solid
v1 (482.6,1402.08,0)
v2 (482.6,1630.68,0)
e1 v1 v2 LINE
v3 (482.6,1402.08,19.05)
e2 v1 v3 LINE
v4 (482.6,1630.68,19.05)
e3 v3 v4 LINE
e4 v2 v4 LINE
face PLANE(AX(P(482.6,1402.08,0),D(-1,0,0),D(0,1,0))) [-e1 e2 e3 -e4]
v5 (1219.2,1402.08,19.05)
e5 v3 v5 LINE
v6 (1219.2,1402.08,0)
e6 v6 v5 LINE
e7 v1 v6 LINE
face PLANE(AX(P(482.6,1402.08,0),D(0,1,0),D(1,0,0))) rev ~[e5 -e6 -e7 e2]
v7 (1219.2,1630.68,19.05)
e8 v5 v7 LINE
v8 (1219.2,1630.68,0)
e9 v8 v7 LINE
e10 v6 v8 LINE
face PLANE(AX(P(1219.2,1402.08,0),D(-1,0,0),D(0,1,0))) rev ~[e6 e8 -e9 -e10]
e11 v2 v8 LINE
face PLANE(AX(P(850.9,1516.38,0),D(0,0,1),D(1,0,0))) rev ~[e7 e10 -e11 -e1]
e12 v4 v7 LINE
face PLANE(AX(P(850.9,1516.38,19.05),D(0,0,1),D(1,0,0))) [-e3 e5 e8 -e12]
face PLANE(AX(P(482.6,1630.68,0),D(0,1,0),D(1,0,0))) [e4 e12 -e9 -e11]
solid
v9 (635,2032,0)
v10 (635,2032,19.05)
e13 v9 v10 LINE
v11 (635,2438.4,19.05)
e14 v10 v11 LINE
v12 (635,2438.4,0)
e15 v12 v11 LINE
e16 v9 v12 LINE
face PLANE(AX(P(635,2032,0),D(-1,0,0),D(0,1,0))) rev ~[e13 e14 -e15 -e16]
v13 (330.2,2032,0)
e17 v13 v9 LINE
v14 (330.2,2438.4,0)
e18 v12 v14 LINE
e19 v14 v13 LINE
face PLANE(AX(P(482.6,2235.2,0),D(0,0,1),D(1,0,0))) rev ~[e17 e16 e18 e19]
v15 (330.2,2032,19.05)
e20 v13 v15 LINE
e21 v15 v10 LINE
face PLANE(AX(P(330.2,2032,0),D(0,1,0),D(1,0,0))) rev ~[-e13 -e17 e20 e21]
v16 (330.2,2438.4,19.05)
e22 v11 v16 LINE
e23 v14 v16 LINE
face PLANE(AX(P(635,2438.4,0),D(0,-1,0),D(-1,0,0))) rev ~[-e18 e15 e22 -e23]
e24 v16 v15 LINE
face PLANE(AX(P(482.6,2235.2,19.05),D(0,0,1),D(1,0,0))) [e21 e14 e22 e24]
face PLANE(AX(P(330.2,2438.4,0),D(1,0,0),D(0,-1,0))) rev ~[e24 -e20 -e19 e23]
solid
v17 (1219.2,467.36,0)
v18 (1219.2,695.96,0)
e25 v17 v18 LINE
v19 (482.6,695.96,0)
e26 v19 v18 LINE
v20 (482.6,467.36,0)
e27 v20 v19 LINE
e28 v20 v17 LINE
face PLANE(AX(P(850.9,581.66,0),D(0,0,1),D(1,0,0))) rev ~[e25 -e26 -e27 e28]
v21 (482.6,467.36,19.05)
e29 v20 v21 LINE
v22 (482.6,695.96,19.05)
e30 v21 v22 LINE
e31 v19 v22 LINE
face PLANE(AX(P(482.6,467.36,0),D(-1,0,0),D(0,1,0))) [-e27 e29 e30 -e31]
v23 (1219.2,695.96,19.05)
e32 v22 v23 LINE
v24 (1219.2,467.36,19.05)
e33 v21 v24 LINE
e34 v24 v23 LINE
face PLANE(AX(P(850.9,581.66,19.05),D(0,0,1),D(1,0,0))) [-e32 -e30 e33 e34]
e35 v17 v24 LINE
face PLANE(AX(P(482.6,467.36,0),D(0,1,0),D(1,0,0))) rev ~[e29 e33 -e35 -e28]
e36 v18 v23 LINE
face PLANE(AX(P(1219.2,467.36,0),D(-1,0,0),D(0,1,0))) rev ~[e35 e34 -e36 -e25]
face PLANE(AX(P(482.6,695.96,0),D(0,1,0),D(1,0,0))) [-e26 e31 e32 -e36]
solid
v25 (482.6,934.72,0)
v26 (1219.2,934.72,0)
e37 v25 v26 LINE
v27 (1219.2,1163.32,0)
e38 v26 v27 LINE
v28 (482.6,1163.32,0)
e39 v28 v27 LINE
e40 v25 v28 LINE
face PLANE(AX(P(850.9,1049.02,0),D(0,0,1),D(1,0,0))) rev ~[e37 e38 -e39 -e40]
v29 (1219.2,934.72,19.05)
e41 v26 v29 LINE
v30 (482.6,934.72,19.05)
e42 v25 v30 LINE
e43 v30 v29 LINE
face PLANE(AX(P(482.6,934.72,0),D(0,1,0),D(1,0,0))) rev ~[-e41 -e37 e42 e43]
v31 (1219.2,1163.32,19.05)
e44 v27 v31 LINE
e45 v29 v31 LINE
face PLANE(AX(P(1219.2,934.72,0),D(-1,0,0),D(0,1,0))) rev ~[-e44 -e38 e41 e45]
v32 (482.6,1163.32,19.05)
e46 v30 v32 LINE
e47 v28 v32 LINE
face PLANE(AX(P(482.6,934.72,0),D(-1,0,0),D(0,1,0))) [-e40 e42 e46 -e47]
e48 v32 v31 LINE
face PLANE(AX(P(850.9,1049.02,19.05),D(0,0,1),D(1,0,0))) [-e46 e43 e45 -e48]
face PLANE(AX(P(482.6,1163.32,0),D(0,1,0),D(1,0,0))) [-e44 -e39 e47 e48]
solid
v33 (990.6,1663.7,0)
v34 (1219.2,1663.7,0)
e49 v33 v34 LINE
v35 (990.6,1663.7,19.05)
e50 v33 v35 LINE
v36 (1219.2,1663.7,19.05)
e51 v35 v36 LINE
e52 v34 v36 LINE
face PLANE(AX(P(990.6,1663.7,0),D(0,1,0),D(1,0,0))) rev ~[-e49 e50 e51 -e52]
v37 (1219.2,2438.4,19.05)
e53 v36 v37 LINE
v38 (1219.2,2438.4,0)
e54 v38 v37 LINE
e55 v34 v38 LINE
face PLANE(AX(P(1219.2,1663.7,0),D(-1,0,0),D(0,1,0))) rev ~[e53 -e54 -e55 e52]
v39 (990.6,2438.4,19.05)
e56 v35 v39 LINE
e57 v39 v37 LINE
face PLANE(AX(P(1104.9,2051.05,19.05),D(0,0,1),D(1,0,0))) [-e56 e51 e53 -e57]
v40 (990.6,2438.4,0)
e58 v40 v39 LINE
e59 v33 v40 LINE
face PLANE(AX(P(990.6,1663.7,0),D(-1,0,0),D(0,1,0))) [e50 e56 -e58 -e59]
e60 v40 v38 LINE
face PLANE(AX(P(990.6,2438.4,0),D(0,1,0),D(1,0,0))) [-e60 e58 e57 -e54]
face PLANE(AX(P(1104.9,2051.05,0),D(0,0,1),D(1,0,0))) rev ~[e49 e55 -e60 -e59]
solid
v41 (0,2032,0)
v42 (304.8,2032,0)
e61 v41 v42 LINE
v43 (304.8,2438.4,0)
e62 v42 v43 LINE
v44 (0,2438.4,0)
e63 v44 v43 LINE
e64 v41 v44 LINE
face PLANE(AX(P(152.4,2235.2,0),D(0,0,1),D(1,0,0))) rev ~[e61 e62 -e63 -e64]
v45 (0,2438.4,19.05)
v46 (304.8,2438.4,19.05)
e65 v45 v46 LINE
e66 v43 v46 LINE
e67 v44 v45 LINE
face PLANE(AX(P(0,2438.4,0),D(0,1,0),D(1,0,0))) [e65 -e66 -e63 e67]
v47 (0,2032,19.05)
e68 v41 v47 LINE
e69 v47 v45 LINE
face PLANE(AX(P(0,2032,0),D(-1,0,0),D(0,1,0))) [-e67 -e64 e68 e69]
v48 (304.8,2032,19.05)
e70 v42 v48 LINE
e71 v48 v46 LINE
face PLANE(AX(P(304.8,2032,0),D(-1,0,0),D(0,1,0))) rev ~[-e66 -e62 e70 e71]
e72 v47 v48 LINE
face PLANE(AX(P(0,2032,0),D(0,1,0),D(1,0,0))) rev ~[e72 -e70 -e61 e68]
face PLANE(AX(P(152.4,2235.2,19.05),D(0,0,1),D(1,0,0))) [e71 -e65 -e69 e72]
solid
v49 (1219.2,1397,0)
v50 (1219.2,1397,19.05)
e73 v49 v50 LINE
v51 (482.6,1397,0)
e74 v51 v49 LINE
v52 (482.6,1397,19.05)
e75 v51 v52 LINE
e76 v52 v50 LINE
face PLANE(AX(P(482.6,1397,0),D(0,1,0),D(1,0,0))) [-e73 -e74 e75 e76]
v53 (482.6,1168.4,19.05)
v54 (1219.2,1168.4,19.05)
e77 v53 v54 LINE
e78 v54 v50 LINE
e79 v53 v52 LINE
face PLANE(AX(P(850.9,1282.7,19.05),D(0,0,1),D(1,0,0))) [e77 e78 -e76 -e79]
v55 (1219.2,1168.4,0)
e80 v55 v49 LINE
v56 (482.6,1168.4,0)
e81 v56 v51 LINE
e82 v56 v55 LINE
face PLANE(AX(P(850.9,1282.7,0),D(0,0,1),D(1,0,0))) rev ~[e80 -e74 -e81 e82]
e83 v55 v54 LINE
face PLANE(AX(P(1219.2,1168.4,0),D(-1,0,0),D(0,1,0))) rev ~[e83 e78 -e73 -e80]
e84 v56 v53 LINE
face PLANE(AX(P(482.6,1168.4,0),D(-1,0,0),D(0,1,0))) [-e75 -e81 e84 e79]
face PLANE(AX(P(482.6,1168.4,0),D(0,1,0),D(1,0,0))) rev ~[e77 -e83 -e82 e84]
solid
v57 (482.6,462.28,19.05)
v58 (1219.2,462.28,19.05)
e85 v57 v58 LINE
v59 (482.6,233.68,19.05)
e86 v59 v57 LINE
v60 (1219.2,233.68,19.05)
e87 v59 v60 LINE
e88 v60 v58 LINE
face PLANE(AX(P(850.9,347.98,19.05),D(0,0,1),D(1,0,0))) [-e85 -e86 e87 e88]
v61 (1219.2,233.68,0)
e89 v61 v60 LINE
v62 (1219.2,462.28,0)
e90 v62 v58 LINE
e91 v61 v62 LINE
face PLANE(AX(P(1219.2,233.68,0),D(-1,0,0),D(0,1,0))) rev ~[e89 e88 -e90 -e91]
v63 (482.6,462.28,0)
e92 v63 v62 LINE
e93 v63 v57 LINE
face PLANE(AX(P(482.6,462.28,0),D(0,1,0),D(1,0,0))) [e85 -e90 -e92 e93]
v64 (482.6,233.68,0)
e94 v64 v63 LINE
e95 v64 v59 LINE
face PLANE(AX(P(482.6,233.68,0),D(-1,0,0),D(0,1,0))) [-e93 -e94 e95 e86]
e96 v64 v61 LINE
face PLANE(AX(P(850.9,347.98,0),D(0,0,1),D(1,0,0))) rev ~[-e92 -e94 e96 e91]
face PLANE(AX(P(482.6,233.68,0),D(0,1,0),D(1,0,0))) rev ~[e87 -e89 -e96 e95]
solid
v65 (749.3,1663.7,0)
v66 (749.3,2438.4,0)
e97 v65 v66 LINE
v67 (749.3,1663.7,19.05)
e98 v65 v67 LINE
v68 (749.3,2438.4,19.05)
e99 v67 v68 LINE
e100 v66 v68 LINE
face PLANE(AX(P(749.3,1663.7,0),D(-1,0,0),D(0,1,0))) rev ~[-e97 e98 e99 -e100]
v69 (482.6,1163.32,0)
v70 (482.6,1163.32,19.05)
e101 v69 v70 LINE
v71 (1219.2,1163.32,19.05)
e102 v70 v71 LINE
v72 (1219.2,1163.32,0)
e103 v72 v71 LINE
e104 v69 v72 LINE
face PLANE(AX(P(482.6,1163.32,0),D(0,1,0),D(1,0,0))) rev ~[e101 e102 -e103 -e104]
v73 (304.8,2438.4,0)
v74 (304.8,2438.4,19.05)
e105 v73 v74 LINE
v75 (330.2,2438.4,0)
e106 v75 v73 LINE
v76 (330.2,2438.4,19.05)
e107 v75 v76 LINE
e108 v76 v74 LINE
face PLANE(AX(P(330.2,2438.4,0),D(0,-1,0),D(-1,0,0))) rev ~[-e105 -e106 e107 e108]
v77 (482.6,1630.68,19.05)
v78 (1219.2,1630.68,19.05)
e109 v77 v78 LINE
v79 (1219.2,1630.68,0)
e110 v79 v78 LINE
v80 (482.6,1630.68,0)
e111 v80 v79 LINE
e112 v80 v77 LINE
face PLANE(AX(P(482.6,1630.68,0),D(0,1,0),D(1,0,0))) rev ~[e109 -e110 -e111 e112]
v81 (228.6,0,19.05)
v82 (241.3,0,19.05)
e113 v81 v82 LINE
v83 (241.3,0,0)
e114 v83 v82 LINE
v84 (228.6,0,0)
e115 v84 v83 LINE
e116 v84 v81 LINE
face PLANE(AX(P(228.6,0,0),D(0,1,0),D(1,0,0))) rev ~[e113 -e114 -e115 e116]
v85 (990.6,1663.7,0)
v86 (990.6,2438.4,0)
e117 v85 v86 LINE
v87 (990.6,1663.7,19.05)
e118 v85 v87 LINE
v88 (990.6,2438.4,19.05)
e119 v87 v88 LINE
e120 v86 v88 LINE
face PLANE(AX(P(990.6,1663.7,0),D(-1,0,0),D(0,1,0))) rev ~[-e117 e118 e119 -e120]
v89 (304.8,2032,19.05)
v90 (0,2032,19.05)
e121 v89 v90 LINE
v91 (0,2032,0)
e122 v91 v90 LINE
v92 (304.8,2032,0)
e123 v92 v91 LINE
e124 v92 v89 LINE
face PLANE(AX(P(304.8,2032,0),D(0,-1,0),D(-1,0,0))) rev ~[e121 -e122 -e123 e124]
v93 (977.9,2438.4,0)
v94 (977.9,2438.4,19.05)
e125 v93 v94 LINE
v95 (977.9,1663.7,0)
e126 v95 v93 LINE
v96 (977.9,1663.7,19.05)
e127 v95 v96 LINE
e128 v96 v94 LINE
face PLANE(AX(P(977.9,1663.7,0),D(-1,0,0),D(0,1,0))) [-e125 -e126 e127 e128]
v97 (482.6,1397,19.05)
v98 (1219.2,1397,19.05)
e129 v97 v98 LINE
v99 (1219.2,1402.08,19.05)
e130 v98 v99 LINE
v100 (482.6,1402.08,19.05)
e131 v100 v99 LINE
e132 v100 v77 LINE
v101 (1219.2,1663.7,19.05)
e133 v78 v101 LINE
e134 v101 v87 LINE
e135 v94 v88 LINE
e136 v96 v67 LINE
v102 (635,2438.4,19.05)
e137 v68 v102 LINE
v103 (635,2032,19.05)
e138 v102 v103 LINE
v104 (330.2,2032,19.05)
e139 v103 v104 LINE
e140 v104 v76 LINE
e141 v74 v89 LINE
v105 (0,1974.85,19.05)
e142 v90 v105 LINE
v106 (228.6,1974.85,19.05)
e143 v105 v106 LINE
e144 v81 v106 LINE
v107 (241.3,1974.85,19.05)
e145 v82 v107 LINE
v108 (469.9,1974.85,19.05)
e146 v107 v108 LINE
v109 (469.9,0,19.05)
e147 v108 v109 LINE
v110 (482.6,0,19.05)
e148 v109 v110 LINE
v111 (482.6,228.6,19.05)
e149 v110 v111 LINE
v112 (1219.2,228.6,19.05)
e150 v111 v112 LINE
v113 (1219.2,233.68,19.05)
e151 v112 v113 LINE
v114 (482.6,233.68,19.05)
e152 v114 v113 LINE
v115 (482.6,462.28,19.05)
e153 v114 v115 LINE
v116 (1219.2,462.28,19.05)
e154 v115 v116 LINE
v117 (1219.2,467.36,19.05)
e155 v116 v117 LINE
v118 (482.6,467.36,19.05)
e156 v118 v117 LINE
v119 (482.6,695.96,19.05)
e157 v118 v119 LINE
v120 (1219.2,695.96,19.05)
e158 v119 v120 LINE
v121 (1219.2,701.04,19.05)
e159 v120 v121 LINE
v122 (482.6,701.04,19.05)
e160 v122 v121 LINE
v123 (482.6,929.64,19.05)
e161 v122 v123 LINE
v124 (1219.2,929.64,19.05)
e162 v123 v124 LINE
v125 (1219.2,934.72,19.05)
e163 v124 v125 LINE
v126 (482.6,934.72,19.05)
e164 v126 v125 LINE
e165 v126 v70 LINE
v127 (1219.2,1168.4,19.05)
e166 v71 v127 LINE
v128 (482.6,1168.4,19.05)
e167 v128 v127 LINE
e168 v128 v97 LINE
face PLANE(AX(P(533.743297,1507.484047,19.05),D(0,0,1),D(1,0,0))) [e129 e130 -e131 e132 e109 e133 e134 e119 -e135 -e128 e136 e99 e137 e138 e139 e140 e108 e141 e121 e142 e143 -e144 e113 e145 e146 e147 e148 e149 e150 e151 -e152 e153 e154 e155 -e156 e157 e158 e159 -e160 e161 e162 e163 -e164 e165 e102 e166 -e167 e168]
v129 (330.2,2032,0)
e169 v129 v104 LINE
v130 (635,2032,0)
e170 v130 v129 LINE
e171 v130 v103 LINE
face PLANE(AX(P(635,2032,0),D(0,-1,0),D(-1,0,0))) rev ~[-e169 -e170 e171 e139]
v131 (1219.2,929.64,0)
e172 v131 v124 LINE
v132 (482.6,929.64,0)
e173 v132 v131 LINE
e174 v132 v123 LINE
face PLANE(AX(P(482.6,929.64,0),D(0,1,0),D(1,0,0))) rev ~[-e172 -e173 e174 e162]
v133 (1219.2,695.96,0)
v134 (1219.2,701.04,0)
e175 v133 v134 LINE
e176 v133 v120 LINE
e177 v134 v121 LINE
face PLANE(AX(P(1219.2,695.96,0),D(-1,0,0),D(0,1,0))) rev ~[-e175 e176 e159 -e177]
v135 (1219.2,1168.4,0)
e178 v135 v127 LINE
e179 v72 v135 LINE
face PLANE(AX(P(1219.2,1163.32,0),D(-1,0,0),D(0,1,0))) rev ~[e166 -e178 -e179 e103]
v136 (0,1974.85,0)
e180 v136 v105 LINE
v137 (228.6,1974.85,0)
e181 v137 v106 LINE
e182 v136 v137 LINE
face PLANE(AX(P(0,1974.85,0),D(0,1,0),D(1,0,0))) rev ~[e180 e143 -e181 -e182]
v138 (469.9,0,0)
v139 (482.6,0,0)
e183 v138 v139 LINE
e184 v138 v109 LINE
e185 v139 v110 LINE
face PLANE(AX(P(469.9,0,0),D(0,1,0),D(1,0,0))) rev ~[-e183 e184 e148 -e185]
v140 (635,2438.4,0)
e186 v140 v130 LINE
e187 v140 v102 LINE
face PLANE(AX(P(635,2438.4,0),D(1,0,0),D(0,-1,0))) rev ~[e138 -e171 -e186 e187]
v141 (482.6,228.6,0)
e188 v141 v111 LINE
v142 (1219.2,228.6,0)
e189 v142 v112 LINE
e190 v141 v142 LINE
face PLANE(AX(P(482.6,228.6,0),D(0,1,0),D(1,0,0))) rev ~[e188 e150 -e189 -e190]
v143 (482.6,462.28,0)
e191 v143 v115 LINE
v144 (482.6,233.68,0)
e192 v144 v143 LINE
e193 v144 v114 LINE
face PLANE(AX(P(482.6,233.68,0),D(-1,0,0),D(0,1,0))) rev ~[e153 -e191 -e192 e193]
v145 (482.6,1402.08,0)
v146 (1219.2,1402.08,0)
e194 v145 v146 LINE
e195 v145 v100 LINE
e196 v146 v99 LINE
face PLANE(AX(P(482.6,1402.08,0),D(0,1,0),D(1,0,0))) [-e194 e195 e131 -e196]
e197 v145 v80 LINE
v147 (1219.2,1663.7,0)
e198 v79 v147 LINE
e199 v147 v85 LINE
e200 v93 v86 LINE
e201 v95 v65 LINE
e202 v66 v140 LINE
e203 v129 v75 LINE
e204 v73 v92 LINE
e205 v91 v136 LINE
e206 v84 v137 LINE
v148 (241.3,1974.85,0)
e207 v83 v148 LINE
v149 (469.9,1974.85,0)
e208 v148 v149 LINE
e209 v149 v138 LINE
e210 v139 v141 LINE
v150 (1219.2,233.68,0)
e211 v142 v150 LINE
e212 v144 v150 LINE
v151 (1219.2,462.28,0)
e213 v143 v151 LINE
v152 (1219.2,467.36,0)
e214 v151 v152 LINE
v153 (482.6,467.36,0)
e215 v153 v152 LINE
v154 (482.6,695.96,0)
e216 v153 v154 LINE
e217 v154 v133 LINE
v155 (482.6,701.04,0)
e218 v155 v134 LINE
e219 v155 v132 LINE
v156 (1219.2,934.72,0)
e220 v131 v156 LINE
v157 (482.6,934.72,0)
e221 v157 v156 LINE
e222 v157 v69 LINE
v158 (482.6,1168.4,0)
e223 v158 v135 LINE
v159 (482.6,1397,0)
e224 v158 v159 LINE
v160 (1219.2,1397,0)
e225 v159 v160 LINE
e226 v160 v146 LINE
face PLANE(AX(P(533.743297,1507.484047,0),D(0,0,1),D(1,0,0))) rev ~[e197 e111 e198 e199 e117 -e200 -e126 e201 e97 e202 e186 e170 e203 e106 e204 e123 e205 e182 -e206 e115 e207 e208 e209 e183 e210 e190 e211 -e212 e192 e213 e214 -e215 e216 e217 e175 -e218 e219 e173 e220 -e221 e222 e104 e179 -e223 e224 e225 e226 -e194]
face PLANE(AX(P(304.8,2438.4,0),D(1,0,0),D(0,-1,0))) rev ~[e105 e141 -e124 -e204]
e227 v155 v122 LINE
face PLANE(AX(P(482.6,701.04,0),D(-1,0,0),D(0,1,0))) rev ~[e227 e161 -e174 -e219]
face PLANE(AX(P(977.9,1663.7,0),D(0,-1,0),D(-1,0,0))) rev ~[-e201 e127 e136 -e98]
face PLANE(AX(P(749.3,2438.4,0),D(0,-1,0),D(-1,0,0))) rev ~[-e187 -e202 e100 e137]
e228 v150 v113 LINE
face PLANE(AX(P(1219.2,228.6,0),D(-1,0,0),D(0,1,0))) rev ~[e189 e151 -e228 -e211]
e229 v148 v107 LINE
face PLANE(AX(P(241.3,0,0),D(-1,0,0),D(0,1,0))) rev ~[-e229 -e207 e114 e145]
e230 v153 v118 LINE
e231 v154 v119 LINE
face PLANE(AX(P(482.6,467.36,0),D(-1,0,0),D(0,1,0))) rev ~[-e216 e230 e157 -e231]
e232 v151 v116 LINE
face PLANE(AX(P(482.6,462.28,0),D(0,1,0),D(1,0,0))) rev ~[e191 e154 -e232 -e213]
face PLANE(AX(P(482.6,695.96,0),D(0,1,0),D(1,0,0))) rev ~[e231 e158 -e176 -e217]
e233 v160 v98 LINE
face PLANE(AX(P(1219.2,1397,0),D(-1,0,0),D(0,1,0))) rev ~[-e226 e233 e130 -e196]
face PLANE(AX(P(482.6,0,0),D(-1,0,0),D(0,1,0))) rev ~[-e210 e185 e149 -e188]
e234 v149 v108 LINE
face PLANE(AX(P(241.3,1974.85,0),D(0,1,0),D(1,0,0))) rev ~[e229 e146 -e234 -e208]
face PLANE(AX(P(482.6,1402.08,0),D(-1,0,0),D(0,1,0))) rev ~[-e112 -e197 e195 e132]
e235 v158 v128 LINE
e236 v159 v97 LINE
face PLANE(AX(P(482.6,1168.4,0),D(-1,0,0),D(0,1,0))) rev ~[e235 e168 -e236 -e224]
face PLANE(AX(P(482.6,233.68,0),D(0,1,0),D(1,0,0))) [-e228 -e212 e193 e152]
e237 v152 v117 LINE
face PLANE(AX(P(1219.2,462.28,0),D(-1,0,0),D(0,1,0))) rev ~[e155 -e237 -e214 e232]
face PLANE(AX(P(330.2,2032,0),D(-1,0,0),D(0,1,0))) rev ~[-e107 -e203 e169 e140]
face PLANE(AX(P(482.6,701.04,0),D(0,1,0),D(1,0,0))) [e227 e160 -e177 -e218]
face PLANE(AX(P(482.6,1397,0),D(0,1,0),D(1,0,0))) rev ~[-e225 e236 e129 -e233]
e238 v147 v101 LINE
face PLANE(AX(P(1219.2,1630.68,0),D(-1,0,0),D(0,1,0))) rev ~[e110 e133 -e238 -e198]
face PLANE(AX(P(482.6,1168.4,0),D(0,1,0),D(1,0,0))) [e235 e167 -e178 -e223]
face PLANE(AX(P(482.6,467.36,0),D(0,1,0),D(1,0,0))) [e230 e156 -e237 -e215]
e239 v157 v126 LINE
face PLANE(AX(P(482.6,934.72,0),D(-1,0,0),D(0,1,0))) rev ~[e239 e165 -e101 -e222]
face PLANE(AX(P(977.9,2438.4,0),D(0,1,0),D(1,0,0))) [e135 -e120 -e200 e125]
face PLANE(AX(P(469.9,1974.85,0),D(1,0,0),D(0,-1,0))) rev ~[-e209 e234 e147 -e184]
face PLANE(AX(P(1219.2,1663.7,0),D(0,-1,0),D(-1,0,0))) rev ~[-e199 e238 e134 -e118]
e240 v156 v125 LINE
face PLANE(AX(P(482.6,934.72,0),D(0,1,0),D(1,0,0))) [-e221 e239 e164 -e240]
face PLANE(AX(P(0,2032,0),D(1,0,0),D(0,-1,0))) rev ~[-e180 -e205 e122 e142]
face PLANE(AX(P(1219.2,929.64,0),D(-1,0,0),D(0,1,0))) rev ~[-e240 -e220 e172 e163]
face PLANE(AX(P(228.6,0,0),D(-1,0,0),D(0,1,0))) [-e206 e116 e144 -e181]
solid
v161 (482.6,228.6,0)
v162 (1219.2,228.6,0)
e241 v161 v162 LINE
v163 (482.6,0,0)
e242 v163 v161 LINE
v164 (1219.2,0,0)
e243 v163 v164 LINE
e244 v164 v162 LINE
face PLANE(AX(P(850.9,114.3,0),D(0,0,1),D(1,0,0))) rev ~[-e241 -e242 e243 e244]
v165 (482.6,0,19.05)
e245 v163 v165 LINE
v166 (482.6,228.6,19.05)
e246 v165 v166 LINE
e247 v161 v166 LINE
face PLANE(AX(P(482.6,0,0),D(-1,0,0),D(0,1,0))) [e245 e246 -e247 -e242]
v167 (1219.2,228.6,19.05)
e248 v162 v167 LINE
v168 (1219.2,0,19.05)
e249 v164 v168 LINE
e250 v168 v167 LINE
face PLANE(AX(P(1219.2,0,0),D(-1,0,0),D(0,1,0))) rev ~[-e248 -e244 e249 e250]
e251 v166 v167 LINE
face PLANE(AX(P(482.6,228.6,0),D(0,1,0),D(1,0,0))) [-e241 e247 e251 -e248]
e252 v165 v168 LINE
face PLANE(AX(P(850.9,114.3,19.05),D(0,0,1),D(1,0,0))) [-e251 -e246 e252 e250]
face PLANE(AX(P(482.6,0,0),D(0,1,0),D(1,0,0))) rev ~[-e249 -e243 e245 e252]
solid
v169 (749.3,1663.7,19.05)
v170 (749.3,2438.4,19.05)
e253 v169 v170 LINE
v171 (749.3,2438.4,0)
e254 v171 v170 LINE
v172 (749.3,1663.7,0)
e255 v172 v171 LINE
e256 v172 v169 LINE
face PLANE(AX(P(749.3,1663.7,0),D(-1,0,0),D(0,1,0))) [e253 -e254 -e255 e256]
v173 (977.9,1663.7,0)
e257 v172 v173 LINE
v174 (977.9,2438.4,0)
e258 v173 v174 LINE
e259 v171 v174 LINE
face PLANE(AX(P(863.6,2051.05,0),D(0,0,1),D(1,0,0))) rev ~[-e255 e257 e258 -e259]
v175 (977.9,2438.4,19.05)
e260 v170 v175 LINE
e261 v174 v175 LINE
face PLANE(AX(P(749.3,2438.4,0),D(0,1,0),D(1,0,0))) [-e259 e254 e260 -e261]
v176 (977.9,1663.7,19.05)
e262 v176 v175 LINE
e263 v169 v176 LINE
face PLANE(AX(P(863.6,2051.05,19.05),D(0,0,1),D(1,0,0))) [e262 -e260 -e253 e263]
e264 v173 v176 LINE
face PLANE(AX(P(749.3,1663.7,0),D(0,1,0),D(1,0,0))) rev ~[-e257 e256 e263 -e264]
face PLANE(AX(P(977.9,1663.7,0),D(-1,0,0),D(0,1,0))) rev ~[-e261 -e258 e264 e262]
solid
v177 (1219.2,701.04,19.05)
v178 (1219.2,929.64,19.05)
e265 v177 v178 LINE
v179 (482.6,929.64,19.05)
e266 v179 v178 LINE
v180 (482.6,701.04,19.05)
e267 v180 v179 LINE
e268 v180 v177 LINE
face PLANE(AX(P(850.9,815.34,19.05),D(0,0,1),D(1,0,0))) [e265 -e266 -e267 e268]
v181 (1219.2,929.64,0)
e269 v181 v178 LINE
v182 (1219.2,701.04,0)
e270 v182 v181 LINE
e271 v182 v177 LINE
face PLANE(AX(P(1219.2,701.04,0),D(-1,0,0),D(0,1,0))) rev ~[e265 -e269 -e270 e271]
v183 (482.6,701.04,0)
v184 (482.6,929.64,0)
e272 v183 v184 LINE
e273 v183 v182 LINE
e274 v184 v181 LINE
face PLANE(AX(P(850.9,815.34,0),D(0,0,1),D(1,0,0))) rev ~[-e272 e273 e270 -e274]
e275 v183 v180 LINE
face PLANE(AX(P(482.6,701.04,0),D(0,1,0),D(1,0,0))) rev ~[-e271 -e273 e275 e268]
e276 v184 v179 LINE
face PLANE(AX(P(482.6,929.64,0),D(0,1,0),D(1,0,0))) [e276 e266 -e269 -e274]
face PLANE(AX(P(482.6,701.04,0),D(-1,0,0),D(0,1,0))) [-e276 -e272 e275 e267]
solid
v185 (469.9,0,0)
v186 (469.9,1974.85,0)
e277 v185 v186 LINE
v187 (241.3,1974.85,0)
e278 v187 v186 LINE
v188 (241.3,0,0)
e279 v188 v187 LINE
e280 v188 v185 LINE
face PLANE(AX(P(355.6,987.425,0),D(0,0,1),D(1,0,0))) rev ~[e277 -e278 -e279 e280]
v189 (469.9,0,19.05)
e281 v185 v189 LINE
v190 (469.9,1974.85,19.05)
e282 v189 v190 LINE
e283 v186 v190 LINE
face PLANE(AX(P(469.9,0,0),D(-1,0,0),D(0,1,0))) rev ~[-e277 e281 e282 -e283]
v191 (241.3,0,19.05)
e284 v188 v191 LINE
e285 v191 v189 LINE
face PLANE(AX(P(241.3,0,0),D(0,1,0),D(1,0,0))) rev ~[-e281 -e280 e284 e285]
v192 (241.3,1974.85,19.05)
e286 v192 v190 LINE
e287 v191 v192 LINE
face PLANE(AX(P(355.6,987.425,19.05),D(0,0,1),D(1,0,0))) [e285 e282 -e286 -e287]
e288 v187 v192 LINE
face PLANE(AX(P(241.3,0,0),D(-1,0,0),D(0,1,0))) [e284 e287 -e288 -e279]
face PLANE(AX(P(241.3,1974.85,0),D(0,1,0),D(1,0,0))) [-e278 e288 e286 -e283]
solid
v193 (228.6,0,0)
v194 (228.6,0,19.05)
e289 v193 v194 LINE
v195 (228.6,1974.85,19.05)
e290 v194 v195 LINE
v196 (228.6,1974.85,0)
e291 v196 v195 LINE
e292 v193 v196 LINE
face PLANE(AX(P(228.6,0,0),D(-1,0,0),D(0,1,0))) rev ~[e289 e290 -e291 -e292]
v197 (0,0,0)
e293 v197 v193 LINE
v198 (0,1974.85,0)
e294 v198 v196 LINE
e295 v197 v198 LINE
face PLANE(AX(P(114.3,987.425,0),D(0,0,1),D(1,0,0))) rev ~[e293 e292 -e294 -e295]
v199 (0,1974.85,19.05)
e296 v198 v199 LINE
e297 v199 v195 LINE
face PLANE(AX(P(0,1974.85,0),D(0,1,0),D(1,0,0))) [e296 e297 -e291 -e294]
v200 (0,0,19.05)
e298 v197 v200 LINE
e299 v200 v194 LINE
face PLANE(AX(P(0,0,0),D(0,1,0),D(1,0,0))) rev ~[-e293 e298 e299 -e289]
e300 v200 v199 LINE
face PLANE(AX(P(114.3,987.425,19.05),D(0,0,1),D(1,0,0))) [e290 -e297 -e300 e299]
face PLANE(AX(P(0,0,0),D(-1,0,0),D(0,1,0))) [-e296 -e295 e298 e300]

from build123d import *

# Parameters (mm, degrees)
F0_W     = 12.7
F0_H     = 1974.85
F0_H_2   = 774.7
F0_W_2   = 736.6
F0_H_3   = 5.08
F1_DEPTH = 19.05
F0_W_3   = 228.6
F2_DEPTH = 19.05
F0_H_4   = 228.6
F0_W_4   = 304.8
F0_H_5   = 406.4


with BuildPart() as f1:
    # F0 (on Top) → F1 (new body)
    with BuildSketch(Plane.XY):
        Polygon((0, 2032), (0, 1974.85), (228.6, 1974.85), (241.3, 1974.85), (469.9, 1974.85), (469.9, 0), (482.6, 0), (482.6, 228.6), (482.6, 233.68), (482.6, 462.28), (482.6, 467.36), (482.6, 695.96), (482.6, 701.04), (482.6, 929.64), (482.6, 934.72), (482.6, 1163.32), (482.6, 1168.4), (482.6, 1397), (482.6, 1402.08), (482.6, 1630.68), (1219.2, 1630.68), (1219.2, 1663.7), (990.6, 1663.7), (977.9, 1663.7), (749.3, 1663.7), (749.3, 2438.4), (679.45, 2438.4), (635, 2438.4), (635, 2032), (330.2, 2032), (330.2, 2438.4), (304.8, 2438.4), (304.8, 2032), align=None)
        with Locations((234.95, 987.425)):
            Rectangle(F0_W, F0_H)
        with Locations((984.25, 2051.05)):
            Rectangle(F0_W, F0_H_2)
        with Locations((850.9, 1399.54)):
            Rectangle(F0_W_2, F0_H_3)
        with Locations((850.9, 1165.86)):
            Rectangle(F0_W_2, F0_H_3)
        with Locations((850.9, 932.18)):
            Rectangle(F0_W_2, F0_H_3)
        with Locations((850.9, 698.5)):
            Rectangle(F0_W_2, F0_H_3)
        with Locations((850.9, 464.82)):
            Rectangle(F0_W_2, F0_H_3)
        with Locations((850.9, 231.14)):
            Rectangle(F0_W_2, F0_H_3)
    extrude(amount=F1_DEPTH)


with BuildPart() as f2:
    # F0 (on Top) → F2 (new body)
    with BuildSketch(Plane.XY):
        with Locations((114.3, 987.425)):
            Rectangle(F0_W_3, F0_H)
    extrude(amount=F2_DEPTH)


with BuildPart() as f2b:
    # F0 (on Top) → F2, piece 2 (new body)
    with BuildSketch(Plane.XY):
        with Locations((355.6, 987.425)):
            Rectangle(F0_W_3, F0_H)
    extrude(amount=F2_DEPTH)


with BuildPart() as f2c:
    # F0 (on Top) → F2, piece 3 (new body)
    with BuildSketch(Plane.XY):
        with Locations((850.9, 1516.38)):
            Rectangle(F0_W_2, F0_H_4)
    extrude(amount=F2_DEPTH)


with BuildPart() as f2d:
    # F0 (on Top) → F2, piece 4 (new body)
    with BuildSketch(Plane.XY):
        with Locations((850.9, 1282.7)):
            Rectangle(F0_W_2, F0_H_4)
    extrude(amount=F2_DEPTH)


with BuildPart() as f2e:
    # F0 (on Top) → F2, piece 5 (new body)
    with BuildSketch(Plane.XY):
        with Locations((850.9, 1049.02)):
            Rectangle(F0_W_2, F0_H_4)
    extrude(amount=F2_DEPTH)


with BuildPart() as f2f:
    # F0 (on Top) → F2, piece 6 (new body)
    with BuildSketch(Plane.XY):
        with Locations((850.9, 815.34)):
            Rectangle(F0_W_2, F0_H_4)
    extrude(amount=F2_DEPTH)


with BuildPart() as f2g:
    # F0 (on Top) → F2, piece 7 (new body)
    with BuildSketch(Plane.XY):
        with Locations((850.9, 581.66)):
            Rectangle(F0_W_2, F0_H_4)
    extrude(amount=F2_DEPTH)


with BuildPart() as f2h:
    # F0 (on Top) → F2, piece 8 (new body)
    with BuildSketch(Plane.XY):
        with Locations((850.9, 347.98)):
            Rectangle(F0_W_2, F0_H_4)
    extrude(amount=F2_DEPTH)


with BuildPart() as f2i:
    # F0 (on Top) → F2, piece 9 (new body)
    with BuildSketch(Plane.XY):
        with Locations((850.9, 114.3)):
            Rectangle(F0_W_2, F0_H_4)
    extrude(amount=F2_DEPTH)


with BuildPart() as f2j:
    # F0 (on Top) → F2, piece 10 (new body)
    with BuildSketch(Plane.XY):
        with Locations((863.6, 2051.05)):
            Rectangle(F0_W_3, F0_H_2)
    extrude(amount=F2_DEPTH)


with BuildPart() as f2k:
    # F0 (on Top) → F2, piece 11 (new body)
    with BuildSketch(Plane.XY):
        with Locations((1104.9, 2051.05)):
            Rectangle(F0_W_3, F0_H_2)
    extrude(amount=F2_DEPTH)


with BuildPart() as f2l:
    # F0 (on Top) → F2, piece 12 (new body)
    with BuildSketch(Plane.XY):
        with Locations((152.4, 2235.2)):
            Rectangle(F0_W_4, F0_H_5)
    extrude(amount=F2_DEPTH)


with BuildPart() as f2m:
    # F0 (on Top) → F2, piece 13 (new body)
    with BuildSketch(Plane.XY):
        Polygon((374.65, 2438.4), (330.2, 2438.4), (330.2, 2032), (635, 2032), (635, 2438.4), align=None)
    extrude(amount=F2_DEPTH)


solid = Compound([f1.part, f2.part, f2b.part, f2c.part, f2d.part, f2e.part, f2f.part, f2g.part, f2h.part, f2i.part, f2j.part, f2k.part, f2l.part, f2m.part])
